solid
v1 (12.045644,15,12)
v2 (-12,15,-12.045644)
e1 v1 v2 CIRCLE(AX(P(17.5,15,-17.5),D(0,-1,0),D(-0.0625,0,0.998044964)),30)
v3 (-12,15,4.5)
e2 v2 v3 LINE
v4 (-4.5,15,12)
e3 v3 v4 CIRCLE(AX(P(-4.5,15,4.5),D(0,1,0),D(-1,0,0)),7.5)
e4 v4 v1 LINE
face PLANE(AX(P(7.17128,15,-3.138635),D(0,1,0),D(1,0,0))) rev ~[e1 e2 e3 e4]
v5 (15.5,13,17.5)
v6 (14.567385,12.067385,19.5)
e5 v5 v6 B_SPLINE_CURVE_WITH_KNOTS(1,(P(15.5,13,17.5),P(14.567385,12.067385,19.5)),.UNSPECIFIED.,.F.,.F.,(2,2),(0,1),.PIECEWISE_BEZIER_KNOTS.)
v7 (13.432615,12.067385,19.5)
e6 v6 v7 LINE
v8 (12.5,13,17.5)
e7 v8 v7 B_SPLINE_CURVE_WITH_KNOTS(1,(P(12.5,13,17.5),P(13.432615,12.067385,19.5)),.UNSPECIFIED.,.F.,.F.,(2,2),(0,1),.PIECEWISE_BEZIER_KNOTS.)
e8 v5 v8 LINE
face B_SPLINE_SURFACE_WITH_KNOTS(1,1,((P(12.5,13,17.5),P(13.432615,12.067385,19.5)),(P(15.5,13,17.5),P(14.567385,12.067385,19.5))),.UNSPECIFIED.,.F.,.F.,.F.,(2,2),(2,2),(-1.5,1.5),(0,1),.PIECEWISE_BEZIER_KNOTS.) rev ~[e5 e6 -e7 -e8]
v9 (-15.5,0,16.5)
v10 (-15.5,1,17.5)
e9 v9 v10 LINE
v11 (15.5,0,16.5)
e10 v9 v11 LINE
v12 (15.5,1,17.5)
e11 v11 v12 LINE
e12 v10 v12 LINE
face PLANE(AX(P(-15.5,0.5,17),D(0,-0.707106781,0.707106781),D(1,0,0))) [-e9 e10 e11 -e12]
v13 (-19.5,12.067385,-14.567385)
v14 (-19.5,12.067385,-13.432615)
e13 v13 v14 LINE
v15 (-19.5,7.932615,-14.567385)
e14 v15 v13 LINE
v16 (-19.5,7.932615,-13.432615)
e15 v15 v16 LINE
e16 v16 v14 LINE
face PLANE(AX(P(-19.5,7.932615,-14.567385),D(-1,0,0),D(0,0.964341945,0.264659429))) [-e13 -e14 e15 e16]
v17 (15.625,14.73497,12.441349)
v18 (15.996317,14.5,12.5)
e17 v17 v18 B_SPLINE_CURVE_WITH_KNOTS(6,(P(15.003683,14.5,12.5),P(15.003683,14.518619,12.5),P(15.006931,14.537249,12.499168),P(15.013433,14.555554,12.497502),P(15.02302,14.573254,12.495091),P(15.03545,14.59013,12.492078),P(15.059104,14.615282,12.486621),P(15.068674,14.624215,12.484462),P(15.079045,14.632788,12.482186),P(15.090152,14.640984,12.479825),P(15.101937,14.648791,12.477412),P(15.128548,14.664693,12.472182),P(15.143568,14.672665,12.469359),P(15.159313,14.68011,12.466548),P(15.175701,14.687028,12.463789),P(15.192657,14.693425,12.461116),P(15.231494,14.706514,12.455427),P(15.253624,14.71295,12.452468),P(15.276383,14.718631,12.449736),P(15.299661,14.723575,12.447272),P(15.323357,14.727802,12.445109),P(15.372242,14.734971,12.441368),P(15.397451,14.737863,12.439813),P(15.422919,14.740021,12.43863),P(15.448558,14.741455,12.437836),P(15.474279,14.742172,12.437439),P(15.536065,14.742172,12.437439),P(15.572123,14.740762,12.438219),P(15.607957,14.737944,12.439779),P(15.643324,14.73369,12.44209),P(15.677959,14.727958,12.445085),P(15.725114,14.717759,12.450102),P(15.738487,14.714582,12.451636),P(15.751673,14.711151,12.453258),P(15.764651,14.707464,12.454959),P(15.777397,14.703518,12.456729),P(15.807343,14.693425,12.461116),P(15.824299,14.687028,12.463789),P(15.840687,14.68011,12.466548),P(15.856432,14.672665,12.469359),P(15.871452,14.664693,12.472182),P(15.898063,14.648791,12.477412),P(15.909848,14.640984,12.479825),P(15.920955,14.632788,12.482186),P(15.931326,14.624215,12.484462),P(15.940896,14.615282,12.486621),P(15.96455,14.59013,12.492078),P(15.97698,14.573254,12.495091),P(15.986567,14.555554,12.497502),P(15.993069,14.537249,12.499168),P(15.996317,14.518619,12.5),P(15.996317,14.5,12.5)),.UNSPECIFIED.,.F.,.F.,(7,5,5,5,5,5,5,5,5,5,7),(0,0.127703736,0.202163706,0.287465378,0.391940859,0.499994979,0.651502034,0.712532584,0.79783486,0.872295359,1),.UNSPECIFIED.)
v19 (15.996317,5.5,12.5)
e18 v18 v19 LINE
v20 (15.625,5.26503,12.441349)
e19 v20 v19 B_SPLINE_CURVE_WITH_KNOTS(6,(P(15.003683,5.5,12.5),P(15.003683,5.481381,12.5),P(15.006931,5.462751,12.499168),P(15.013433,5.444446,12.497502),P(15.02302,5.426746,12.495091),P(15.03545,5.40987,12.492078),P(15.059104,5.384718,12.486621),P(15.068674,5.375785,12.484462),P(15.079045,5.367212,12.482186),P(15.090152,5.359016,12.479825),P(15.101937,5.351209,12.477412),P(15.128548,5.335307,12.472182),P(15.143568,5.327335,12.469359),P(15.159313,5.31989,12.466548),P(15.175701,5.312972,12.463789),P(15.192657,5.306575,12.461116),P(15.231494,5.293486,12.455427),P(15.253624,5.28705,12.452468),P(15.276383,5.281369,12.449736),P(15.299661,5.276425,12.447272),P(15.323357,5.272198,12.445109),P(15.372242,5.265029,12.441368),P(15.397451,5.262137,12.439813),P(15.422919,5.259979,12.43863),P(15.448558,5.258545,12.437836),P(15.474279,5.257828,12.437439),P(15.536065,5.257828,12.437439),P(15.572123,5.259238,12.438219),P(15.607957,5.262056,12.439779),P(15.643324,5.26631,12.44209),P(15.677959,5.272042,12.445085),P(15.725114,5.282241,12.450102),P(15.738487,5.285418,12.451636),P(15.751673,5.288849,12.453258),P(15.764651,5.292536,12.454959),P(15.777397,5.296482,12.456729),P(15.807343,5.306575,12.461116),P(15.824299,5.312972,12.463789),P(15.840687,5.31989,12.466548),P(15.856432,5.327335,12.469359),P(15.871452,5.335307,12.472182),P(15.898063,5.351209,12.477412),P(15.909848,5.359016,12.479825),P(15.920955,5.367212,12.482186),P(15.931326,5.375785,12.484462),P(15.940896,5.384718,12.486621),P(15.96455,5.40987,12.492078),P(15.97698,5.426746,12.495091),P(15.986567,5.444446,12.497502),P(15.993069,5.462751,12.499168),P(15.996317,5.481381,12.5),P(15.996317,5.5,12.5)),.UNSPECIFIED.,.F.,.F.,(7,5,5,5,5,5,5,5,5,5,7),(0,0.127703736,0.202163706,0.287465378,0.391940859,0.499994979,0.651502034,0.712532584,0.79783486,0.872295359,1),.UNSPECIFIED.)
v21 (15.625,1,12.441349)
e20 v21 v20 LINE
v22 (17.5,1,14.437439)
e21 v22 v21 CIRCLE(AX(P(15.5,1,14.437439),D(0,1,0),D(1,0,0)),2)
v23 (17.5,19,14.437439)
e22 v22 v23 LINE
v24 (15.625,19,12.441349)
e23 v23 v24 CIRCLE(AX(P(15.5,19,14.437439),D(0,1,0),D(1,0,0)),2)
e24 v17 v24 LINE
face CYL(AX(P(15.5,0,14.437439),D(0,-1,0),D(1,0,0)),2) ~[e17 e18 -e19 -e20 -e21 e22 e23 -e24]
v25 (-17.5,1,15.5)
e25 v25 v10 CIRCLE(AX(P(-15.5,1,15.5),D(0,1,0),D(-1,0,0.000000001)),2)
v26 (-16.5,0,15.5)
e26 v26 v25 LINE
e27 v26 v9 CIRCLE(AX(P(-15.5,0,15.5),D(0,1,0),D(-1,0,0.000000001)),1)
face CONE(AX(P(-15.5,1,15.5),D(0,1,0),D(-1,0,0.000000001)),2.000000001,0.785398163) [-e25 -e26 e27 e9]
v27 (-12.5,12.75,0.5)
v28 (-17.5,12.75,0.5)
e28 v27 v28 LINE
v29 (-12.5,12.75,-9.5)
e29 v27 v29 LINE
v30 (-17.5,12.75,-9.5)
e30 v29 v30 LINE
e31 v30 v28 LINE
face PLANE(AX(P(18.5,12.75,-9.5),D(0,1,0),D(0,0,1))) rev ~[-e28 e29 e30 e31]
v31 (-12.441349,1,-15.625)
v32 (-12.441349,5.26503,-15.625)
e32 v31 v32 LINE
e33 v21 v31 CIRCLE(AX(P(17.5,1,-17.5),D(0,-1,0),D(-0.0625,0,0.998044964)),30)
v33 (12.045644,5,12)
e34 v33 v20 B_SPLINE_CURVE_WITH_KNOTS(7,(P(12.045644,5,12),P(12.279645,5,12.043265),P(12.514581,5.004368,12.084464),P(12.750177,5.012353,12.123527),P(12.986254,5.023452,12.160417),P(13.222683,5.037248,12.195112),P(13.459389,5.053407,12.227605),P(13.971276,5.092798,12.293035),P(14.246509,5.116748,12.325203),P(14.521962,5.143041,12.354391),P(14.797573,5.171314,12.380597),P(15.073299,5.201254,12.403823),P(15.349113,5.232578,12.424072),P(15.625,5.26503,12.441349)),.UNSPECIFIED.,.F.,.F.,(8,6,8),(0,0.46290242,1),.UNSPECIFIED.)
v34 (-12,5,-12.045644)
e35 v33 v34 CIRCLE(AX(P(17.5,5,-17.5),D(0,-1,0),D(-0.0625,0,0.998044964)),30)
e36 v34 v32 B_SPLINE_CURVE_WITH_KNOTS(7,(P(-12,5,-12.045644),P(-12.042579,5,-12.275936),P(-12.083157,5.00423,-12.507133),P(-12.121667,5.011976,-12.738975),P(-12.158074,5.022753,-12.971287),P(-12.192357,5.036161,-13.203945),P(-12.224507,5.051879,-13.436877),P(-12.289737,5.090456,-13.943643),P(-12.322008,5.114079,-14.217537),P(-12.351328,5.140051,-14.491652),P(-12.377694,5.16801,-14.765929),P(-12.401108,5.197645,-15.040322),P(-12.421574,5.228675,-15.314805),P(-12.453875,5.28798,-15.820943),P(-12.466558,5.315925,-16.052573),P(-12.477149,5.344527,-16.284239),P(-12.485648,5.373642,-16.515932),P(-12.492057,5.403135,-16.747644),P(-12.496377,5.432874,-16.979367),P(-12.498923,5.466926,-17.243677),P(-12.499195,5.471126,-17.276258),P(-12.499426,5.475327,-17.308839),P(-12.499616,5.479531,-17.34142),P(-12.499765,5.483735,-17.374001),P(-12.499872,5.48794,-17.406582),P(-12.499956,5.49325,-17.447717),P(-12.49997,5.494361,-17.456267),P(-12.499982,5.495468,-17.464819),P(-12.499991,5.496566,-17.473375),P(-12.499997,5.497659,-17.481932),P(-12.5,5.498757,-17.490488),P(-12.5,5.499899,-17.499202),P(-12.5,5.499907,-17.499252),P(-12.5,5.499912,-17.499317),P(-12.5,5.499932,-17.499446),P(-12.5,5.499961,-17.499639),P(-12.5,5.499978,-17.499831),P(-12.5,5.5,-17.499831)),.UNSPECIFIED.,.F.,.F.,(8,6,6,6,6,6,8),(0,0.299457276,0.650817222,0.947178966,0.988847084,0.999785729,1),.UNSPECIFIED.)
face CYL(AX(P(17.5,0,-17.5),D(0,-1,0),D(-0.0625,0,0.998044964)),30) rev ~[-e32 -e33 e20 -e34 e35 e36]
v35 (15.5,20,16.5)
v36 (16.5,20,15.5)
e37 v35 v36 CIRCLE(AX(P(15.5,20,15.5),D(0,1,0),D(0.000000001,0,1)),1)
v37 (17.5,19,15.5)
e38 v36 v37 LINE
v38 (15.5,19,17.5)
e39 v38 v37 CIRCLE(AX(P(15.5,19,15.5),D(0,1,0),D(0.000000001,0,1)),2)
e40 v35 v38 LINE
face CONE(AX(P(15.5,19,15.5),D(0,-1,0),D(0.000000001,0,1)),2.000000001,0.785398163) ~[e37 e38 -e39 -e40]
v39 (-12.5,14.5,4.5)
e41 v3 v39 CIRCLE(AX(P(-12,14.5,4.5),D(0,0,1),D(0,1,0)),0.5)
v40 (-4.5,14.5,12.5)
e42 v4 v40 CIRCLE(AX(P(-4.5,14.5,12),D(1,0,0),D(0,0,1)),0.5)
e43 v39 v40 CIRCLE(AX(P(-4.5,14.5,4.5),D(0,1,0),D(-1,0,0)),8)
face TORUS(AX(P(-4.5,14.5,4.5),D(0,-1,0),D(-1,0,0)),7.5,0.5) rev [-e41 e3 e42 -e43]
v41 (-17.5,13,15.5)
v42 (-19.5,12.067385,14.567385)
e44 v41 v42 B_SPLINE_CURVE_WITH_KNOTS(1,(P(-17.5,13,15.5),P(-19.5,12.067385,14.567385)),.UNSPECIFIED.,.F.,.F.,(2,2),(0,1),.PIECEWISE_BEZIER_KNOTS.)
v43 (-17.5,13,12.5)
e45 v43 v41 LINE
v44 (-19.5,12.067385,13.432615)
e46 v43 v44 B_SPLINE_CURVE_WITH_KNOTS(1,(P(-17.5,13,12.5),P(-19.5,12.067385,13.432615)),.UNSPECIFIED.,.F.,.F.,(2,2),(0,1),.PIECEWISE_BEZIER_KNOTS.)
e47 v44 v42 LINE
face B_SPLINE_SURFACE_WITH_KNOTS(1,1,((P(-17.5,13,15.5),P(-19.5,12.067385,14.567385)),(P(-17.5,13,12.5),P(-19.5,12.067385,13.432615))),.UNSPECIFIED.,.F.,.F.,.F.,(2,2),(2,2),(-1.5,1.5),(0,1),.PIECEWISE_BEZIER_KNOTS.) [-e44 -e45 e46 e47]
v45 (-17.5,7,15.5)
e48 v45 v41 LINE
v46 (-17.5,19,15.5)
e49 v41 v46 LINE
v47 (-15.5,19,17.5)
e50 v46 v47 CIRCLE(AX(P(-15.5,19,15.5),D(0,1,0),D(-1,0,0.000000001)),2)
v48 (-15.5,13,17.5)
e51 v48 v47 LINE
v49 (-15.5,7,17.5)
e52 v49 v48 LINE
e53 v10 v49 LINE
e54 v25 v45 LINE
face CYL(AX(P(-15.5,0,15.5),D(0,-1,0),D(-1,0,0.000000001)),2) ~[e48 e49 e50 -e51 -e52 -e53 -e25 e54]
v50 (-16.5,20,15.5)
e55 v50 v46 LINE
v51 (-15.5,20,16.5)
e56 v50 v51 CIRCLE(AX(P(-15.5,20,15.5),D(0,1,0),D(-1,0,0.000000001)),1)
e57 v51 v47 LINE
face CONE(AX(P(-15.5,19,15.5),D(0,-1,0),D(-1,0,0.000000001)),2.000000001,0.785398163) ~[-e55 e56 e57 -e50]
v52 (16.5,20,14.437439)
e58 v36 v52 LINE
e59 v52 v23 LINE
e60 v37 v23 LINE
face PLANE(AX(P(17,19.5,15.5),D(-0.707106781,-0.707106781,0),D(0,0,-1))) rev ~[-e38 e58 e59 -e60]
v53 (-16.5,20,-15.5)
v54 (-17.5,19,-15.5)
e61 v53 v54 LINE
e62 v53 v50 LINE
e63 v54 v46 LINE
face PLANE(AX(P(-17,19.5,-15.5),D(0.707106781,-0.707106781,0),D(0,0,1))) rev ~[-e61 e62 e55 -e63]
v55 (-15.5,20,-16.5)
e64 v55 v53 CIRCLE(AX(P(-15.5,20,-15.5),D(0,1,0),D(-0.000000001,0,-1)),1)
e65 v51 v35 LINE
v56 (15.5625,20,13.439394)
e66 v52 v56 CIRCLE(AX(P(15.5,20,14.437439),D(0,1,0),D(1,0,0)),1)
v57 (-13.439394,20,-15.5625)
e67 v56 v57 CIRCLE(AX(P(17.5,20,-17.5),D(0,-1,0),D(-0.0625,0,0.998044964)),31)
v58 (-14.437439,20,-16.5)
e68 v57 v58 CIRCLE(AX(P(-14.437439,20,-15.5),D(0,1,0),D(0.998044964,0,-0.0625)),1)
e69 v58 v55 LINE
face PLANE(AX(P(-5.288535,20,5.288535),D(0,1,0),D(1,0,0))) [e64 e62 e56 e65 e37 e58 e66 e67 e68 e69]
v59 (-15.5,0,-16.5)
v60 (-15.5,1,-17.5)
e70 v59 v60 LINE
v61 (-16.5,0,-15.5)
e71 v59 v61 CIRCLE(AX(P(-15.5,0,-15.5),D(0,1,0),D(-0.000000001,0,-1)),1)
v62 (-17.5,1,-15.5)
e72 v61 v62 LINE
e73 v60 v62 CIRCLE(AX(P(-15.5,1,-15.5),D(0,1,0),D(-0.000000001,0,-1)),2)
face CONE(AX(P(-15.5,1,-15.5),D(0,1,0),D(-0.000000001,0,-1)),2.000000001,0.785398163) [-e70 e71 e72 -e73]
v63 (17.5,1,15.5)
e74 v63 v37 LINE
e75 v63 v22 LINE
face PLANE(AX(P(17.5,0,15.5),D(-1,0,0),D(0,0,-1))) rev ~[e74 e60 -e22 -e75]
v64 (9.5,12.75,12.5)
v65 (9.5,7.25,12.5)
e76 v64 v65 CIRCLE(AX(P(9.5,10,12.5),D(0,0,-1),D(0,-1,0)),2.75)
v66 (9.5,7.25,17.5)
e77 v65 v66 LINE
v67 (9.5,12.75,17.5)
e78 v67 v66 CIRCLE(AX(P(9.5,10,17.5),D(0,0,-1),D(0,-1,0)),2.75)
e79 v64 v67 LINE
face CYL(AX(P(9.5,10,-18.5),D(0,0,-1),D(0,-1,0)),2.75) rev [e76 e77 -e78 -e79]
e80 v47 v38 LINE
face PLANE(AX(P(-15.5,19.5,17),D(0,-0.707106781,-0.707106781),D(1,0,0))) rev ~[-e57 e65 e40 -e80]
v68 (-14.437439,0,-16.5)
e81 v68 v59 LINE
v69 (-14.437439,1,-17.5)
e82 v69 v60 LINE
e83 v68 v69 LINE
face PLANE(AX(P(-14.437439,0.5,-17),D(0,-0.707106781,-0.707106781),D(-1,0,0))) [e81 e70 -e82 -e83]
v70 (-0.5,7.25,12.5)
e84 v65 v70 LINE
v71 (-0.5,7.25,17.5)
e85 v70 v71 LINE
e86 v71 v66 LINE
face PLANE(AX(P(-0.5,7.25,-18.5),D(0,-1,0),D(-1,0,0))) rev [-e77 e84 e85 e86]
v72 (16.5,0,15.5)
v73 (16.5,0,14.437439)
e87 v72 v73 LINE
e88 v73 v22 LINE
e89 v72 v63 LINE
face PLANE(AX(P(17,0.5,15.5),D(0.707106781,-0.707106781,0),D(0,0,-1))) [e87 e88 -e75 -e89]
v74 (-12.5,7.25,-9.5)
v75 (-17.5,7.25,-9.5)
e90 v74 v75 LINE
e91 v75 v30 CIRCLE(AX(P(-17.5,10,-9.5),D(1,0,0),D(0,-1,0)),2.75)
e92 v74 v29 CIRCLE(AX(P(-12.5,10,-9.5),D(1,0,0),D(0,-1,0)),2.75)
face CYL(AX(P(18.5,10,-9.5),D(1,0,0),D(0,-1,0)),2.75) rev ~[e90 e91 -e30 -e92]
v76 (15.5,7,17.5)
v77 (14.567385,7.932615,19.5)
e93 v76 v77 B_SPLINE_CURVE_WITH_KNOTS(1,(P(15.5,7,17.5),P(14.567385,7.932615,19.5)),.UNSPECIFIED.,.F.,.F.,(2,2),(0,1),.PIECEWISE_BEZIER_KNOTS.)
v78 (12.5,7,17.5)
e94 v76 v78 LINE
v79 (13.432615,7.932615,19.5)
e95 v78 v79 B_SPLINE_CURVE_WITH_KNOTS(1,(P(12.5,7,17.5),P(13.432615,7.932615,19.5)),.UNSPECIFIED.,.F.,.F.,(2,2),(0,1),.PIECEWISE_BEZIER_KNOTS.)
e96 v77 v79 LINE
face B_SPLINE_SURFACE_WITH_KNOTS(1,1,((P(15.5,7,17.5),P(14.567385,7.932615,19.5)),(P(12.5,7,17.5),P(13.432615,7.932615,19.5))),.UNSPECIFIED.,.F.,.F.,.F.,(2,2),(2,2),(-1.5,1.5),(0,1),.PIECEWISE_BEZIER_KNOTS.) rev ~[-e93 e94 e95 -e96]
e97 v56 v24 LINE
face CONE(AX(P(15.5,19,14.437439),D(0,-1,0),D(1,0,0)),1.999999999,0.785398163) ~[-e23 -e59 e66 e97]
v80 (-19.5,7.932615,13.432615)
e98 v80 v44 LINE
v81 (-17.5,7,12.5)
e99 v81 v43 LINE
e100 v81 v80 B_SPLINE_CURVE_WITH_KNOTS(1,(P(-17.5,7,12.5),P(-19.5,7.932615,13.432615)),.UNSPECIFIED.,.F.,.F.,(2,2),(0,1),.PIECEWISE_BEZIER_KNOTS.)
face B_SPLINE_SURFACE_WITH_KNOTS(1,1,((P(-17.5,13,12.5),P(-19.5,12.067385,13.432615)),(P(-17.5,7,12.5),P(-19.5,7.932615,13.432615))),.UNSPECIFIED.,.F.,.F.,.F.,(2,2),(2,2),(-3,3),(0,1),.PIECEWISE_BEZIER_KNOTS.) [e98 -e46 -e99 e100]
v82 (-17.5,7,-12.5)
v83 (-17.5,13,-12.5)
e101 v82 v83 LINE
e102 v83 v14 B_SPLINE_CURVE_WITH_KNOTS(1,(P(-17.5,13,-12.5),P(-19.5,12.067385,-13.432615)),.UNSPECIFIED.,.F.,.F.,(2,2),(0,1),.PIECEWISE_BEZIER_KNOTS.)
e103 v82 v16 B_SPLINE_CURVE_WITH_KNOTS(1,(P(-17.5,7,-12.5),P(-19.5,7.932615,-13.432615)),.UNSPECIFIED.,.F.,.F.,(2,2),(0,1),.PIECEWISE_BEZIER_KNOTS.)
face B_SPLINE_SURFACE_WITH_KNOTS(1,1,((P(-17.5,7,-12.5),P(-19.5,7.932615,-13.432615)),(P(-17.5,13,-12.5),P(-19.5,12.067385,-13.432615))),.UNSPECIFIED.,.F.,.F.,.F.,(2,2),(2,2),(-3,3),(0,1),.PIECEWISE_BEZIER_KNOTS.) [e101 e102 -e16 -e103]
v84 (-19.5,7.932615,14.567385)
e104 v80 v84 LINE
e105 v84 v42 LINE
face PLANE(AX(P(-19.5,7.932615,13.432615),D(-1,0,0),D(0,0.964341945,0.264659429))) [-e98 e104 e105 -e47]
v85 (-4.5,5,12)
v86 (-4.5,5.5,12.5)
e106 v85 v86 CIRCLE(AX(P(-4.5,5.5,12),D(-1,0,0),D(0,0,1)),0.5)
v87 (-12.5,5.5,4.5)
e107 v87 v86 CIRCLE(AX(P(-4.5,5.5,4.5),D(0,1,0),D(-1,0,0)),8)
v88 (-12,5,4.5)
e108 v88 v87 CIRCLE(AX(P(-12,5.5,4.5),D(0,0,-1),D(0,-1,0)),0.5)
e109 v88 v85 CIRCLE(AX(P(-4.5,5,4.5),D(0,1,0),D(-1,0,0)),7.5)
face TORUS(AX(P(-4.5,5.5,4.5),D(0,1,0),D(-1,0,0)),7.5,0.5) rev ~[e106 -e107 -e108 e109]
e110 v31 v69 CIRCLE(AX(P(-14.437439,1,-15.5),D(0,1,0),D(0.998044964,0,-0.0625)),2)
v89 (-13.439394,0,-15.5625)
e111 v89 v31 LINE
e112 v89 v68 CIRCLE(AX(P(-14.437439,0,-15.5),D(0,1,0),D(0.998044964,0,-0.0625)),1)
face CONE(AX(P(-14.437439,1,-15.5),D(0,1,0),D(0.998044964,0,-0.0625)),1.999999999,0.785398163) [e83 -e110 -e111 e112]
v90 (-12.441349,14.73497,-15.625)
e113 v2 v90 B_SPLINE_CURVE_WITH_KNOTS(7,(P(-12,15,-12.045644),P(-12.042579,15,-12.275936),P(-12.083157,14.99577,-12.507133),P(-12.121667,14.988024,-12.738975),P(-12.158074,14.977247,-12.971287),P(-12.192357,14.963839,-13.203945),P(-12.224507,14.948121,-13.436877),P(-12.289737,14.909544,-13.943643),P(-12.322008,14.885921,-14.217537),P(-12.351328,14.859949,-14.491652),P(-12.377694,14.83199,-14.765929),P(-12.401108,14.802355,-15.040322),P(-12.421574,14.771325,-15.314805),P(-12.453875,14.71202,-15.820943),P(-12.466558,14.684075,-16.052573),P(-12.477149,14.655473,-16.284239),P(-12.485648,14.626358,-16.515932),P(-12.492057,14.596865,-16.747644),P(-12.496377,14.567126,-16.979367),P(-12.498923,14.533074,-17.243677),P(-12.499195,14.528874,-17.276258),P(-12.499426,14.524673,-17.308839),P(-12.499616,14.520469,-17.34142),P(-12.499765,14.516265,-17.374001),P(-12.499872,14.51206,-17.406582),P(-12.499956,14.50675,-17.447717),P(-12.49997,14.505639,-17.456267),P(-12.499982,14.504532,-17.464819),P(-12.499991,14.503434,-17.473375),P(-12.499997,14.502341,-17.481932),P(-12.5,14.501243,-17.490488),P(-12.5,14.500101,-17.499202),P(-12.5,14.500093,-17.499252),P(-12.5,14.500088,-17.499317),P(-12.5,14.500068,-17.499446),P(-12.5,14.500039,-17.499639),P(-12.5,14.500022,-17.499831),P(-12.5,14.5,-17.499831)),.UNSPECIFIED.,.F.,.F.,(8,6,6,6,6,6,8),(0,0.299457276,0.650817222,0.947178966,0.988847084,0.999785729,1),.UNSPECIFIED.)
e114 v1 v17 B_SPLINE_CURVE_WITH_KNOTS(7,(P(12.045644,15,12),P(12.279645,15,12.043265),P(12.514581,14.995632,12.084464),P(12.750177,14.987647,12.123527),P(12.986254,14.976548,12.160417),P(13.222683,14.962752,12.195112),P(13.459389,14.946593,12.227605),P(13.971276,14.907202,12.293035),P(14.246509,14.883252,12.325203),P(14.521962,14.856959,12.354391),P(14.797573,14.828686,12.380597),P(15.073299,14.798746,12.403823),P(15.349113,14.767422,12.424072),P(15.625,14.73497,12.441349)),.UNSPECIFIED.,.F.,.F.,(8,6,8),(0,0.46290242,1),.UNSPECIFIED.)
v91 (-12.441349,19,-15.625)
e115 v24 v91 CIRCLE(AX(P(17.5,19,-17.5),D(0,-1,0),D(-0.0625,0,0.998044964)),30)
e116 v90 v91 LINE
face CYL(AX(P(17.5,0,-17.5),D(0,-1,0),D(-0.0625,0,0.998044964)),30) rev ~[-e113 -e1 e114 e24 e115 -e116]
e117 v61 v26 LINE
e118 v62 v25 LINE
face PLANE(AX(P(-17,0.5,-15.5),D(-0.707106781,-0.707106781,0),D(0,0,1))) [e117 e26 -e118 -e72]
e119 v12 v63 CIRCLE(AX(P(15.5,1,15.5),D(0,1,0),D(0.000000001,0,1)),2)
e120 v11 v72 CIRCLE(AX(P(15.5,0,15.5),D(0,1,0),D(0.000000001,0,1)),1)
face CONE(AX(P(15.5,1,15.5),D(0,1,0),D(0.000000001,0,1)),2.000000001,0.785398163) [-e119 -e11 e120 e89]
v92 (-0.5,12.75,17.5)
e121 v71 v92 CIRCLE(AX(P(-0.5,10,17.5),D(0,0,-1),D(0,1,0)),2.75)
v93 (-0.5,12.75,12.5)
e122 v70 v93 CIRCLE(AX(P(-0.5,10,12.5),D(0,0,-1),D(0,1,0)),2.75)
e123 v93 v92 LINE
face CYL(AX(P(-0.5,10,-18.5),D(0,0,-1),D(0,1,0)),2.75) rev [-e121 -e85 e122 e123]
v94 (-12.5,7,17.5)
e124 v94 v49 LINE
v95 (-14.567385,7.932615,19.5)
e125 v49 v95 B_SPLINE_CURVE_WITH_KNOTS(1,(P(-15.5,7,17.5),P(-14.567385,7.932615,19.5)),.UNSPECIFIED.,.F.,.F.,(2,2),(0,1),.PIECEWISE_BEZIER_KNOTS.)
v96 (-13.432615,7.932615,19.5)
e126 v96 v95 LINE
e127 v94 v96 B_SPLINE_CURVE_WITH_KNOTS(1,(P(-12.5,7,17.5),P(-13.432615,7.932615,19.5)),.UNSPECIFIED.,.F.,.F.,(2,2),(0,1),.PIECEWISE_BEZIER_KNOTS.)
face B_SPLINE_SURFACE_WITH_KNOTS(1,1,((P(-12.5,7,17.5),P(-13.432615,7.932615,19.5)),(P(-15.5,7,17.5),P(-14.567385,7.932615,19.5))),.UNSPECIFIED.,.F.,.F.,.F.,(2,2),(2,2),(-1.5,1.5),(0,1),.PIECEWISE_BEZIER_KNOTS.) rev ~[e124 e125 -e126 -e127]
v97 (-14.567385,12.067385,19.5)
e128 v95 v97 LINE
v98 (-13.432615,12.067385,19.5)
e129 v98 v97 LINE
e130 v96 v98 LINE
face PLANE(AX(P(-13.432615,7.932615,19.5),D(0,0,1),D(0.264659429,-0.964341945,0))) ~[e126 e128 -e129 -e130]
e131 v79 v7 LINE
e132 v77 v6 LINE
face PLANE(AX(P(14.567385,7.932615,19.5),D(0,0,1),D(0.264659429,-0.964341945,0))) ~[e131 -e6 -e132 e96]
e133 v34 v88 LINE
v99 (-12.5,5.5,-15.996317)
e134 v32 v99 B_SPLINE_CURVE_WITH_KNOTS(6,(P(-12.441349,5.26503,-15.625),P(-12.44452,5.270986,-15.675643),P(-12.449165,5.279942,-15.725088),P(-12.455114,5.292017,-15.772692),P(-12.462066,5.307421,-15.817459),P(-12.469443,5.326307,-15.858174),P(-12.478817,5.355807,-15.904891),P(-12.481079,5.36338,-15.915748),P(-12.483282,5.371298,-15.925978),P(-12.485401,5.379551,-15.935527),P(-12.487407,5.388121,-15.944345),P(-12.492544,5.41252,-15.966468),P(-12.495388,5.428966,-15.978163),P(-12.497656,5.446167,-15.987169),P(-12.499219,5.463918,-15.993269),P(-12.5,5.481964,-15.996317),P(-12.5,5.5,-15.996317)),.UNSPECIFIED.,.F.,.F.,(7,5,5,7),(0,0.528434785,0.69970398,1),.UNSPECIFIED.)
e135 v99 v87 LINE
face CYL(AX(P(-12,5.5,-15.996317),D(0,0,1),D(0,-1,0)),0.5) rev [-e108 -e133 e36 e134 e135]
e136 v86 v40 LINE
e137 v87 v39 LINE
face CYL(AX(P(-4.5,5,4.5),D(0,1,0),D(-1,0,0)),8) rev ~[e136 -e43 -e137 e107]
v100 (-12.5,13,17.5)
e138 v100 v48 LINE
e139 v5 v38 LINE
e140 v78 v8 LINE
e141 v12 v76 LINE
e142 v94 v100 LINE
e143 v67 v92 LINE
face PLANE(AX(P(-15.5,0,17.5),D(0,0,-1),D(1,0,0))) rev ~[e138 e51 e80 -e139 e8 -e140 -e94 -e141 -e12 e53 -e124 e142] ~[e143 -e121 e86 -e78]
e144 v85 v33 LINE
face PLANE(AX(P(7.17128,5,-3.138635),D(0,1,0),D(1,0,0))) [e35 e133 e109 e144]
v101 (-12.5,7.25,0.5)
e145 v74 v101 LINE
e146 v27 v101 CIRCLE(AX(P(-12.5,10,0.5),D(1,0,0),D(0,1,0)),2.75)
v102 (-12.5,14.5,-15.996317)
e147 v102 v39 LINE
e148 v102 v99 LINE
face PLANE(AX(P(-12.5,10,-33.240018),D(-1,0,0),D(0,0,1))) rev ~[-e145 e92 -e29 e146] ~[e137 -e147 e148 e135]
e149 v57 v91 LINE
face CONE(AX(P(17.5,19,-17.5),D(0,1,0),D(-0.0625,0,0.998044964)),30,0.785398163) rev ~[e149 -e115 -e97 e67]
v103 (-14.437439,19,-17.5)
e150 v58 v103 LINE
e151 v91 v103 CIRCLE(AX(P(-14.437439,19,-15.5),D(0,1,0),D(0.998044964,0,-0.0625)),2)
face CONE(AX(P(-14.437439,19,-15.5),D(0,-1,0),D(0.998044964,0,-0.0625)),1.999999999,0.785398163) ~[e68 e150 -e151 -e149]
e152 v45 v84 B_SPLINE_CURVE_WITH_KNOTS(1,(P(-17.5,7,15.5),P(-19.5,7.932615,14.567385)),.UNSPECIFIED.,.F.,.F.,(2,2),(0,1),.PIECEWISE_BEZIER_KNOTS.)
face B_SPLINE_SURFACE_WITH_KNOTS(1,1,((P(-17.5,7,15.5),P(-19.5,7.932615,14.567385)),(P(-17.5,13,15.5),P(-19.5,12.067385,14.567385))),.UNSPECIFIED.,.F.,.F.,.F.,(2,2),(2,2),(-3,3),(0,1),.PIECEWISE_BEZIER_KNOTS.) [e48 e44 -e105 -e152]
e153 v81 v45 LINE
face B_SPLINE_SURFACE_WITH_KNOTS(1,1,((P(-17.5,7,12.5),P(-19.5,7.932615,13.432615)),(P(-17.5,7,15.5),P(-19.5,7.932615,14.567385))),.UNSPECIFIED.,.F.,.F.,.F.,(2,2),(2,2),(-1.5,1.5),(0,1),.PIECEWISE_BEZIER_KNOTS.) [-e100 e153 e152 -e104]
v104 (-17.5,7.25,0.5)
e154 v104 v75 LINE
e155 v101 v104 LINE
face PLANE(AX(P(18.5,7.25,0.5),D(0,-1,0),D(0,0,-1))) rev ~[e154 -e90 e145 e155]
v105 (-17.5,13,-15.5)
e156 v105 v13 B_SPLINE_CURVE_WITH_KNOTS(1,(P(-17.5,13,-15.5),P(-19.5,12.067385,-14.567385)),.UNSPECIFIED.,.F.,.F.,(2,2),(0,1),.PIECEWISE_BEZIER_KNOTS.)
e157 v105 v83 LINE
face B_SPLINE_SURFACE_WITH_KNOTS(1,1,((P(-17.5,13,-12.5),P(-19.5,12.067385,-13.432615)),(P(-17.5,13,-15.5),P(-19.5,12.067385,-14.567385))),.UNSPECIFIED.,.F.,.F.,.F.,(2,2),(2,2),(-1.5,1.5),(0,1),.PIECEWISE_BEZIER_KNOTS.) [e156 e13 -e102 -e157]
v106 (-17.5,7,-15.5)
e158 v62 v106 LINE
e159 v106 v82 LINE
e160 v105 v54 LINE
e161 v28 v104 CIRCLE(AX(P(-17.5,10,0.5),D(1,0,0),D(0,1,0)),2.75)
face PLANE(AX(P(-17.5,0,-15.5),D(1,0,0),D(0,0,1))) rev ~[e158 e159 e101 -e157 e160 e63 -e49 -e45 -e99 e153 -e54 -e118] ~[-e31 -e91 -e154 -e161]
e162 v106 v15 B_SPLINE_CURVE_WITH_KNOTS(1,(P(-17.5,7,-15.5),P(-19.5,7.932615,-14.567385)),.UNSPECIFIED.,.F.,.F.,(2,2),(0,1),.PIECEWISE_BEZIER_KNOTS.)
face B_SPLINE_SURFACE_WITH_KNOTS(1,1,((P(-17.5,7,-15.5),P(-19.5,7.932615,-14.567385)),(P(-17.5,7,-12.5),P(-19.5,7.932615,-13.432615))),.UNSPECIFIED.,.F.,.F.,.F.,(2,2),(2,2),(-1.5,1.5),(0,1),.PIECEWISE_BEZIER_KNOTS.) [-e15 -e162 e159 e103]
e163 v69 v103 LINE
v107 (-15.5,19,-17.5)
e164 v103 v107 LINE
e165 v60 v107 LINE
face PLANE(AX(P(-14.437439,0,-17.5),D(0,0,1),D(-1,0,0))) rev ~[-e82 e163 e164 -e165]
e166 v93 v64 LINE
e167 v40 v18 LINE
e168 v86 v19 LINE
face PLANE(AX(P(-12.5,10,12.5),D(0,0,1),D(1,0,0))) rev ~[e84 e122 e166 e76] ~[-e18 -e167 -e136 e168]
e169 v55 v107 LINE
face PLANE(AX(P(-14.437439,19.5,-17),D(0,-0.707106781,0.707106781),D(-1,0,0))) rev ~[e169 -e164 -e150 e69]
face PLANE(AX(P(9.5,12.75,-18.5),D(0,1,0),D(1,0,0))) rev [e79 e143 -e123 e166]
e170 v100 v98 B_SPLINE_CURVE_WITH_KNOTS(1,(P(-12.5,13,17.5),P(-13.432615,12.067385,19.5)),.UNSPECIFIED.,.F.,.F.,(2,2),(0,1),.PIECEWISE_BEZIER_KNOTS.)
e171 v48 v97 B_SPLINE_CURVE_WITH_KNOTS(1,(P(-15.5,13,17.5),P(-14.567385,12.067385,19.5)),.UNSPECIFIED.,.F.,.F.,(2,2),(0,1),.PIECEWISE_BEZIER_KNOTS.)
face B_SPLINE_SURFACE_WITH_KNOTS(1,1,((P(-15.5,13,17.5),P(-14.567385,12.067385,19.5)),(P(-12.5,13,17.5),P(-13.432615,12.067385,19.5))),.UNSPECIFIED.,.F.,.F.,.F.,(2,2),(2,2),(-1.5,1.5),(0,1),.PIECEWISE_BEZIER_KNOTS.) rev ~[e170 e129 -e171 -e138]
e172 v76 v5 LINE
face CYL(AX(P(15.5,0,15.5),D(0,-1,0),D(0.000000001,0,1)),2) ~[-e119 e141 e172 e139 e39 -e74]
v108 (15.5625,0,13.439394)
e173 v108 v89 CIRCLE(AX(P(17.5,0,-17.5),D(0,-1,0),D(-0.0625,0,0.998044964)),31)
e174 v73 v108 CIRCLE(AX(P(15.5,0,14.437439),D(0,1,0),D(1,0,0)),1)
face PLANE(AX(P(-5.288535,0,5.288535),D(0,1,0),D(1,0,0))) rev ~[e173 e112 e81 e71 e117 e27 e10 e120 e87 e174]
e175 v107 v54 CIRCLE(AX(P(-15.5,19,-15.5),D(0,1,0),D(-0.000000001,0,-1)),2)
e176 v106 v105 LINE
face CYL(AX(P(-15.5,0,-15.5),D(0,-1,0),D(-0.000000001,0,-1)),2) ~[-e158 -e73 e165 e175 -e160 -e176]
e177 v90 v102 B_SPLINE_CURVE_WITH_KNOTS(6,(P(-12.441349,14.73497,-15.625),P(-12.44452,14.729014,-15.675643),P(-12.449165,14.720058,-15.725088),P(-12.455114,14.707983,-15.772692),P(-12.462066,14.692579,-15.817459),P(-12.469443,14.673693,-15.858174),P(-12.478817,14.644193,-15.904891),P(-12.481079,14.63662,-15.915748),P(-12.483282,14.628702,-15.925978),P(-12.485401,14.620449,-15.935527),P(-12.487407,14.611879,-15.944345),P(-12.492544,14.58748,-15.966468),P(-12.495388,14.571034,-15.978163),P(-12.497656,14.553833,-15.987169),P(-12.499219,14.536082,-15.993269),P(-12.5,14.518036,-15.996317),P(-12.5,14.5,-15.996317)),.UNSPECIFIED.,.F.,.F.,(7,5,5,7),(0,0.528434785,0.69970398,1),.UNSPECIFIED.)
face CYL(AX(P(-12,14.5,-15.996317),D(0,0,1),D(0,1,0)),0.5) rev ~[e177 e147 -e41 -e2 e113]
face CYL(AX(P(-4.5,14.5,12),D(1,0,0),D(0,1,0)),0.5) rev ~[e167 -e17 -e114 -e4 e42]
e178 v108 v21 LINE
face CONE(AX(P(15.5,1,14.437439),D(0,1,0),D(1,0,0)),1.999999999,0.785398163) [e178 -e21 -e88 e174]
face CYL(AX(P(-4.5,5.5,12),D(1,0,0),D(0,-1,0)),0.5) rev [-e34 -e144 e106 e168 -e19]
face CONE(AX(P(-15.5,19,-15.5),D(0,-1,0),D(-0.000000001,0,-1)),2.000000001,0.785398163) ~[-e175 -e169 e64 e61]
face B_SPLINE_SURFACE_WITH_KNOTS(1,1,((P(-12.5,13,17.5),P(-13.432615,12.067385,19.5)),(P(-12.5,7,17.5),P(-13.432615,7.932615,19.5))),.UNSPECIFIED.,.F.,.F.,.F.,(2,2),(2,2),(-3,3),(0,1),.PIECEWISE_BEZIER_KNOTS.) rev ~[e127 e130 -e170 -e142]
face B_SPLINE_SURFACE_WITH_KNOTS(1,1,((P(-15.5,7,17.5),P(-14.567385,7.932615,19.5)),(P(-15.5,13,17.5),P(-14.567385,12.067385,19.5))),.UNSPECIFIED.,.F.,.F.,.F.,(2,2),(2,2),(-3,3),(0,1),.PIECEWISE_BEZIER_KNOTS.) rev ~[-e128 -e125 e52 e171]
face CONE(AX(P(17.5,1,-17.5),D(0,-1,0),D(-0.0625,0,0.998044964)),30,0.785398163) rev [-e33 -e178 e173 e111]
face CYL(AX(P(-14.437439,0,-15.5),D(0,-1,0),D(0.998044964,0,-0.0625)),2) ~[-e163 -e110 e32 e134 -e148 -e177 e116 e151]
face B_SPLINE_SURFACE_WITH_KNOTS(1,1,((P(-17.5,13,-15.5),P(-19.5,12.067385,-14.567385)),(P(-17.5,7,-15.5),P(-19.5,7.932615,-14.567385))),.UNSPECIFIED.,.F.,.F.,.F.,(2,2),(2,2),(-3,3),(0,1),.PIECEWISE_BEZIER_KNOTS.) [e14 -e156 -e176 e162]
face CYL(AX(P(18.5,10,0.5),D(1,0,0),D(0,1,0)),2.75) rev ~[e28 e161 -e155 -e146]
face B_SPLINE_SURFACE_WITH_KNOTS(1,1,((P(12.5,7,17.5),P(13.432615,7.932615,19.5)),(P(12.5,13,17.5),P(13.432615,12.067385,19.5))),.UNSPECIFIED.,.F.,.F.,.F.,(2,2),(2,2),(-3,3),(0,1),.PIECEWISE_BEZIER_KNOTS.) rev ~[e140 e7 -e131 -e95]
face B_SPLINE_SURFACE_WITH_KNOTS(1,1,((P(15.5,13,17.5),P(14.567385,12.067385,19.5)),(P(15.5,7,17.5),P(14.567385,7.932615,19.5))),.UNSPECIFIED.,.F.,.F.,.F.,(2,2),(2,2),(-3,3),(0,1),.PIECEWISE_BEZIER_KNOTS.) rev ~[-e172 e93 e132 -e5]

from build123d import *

# Parameters (mm, degrees)
BOSS_EXTRUDE1_DEPTH = 20
CUT_EXTRUDE2_START  = -10
CUT_EXTRUDE2_DEPTH  = 5
CUT_EXTRUDE1_START  = -36
CUT_EXTRUDE1_DEPTH  = 37
SKETCH5_W           = 3
SKETCH5_H           = 6
BOSS_EXTRUDE2_DEPTH = 2
BOSS_EXTRUDE2_TAPER = 25
FILLET1_R           = 8
CHAMFER2_SIZE       = 1
FILLET2_R           = 0.5


with BuildPart() as part:
    # Sketch1 → Boss-Extrude1 (new body)
    with BuildSketch(Plane(origin=(0, 0, 0), x_dir=(1, 0, 0), z_dir=(0, 1, 0))):
        with BuildLine():
            Line((-17.5, 15.5), (-17.5, -15.5))
            ThreePointArc((-17.5, -15.5), (-16.914213562, -16.914213562), (-15.5, -17.5))
            Line((-15.5, -17.5), (15.5, -17.5))
            ThreePointArc((15.5, -17.5), (16.914213562, -16.914213562), (17.5, -15.5))
            Line((17.5, -15.5), (17.5, -14.437438845))
            ThreePointArc((17.5, -14.437438845), (16.957737974, -13.068132452), (15.625, -12.441348918))
            ThreePointArc((15.625, -12.441348918), (-3.713203436, -3.713203436), (-12.441348918, 15.625))
            ThreePointArc((-12.441348918, 15.625), (-13.068132452, 16.957737974), (-14.437438845, 17.5))
            Line((-14.437438845, 17.5), (-15.5, 17.5))
            ThreePointArc((-15.5, 17.5), (-16.914213562, 16.914213562), (-17.5, 15.5))
        make_face()
    extrude(amount=BOSS_EXTRUDE1_DEPTH)

    # Sketch3 → Cut-Extrude2 (cut, symmetric)
    with BuildSketch(Plane(origin=(0, 20, 0), x_dir=(1, 0, 0), z_dir=(0, 1, 0)).offset(CUT_EXTRUDE2_START)):
        Polygon((-12.5, 33.240018262), (-12.5, -12.5), (41.305309001, -12.5), align=None)
    extrude(amount=CUT_EXTRUDE2_DEPTH, both=True, mode=Mode.SUBTRACT)

    # Sketch2 → Cut-Extrude1 (cut)
    with BuildSketch(Plane.ZY.offset(17.5).offset(CUT_EXTRUDE1_START)):
        with BuildLine():
            Line((-9.5, 12.75), (0.5, 12.75))
            ThreePointArc((0.5, 12.75), (3.25, 10), (0.5, 7.25))
            Line((0.5, 7.25), (-9.5, 7.25))
            ThreePointArc((-9.5, 7.25), (-12.25, 10), (-9.5, 12.75))
        make_face()
    cut_extrude1 = extrude(amount=CUT_EXTRUDE1_DEPTH, mode=Mode.SUBTRACT)

    # Sketch5 → Boss-Extrude2 (add)
    with BuildSketch(Plane.ZY.offset(17.5)):
        with Locations((-14, 10)):
            Rectangle(SKETCH5_W, SKETCH5_H)
        with Locations((14, 10)):
            Rectangle(SKETCH5_W, SKETCH5_H)
    boss_extrude2 = extrude(amount=BOSS_EXTRUDE2_DEPTH, taper=BOSS_EXTRUDE2_TAPER)

    # Mirror1: Cut-Extrude1, Boss-Extrude2 across plane
    add(cut_extrude1.mirror(Plane(origin=(0, 0, 0), x_dir=(-0.707106781, 0, 0.707106781), z_dir=(0.707106781, 0, 0.707106781))), mode=Mode.SUBTRACT)
    add(boss_extrude2.mirror(Plane(origin=(0, 0, 0), x_dir=(-0.707106781, 0, 0.707106781), z_dir=(0.707106781, 0, 0.707106781))))

    # Fillet1
    fillet1_edges = [part.edges().sort_by_distance(p)[0] for p in [
        (-12.5, 10, 12.5),
    ]]
    fillet(fillet1_edges, radius=FILLET1_R)

    # Chamfer2
    chamfer2_edges = [part.edges().sort_by_distance(p)[0] for p in [
        (-14.968719423, 0, -17.5),
        (-13.068132452, 0, -16.957737974),
        (-3.713203436, 0, 3.713203436),
        (16.957737974, 0, 13.068132452),
        (17.5, 0, 14.968719423),
        (16.914213562, 0, 16.914213562),
        (0, 0, 17.5),
        (-16.914213562, 20, 16.914213562),
        (-16.914213562, 0, 16.914213562),
        (-17.5, 0, 0),
        (-16.914213562, 0, -16.914213562),
        (0, 20, 17.5),
        (16.914213562, 20, 16.914213562),
        (17.5, 20, 14.968719423),
        (16.957737974, 20, 13.068132452),
        (-3.713203436, 20, 3.713203436),
        (-13.068132452, 20, -16.957737974),
        (-14.968719423, 20, -17.5),
        (-16.914213562, 20, -16.914213562),
        (-17.5, 20, 0),
    ]]
    chamfer(chamfer2_edges, length=CHAMFER2_SIZE)

    # Fillet2
    fillet2_edges = [part.edges().sort_by_distance(p)[0] for p in [
        (5.748158579, 5, 12.5),
        (-10.156854249, 5, 10.156854249),
        (5.748158579, 15, 12.5),
        (-10.156854249, 15, 10.156854249),
        (-12.5, 5, -5.748158579),
        (-12.5, 15, -5.748158579),
    ]]
    fillet(fillet2_edges, radius=FILLET2_R)


solid = part.part
